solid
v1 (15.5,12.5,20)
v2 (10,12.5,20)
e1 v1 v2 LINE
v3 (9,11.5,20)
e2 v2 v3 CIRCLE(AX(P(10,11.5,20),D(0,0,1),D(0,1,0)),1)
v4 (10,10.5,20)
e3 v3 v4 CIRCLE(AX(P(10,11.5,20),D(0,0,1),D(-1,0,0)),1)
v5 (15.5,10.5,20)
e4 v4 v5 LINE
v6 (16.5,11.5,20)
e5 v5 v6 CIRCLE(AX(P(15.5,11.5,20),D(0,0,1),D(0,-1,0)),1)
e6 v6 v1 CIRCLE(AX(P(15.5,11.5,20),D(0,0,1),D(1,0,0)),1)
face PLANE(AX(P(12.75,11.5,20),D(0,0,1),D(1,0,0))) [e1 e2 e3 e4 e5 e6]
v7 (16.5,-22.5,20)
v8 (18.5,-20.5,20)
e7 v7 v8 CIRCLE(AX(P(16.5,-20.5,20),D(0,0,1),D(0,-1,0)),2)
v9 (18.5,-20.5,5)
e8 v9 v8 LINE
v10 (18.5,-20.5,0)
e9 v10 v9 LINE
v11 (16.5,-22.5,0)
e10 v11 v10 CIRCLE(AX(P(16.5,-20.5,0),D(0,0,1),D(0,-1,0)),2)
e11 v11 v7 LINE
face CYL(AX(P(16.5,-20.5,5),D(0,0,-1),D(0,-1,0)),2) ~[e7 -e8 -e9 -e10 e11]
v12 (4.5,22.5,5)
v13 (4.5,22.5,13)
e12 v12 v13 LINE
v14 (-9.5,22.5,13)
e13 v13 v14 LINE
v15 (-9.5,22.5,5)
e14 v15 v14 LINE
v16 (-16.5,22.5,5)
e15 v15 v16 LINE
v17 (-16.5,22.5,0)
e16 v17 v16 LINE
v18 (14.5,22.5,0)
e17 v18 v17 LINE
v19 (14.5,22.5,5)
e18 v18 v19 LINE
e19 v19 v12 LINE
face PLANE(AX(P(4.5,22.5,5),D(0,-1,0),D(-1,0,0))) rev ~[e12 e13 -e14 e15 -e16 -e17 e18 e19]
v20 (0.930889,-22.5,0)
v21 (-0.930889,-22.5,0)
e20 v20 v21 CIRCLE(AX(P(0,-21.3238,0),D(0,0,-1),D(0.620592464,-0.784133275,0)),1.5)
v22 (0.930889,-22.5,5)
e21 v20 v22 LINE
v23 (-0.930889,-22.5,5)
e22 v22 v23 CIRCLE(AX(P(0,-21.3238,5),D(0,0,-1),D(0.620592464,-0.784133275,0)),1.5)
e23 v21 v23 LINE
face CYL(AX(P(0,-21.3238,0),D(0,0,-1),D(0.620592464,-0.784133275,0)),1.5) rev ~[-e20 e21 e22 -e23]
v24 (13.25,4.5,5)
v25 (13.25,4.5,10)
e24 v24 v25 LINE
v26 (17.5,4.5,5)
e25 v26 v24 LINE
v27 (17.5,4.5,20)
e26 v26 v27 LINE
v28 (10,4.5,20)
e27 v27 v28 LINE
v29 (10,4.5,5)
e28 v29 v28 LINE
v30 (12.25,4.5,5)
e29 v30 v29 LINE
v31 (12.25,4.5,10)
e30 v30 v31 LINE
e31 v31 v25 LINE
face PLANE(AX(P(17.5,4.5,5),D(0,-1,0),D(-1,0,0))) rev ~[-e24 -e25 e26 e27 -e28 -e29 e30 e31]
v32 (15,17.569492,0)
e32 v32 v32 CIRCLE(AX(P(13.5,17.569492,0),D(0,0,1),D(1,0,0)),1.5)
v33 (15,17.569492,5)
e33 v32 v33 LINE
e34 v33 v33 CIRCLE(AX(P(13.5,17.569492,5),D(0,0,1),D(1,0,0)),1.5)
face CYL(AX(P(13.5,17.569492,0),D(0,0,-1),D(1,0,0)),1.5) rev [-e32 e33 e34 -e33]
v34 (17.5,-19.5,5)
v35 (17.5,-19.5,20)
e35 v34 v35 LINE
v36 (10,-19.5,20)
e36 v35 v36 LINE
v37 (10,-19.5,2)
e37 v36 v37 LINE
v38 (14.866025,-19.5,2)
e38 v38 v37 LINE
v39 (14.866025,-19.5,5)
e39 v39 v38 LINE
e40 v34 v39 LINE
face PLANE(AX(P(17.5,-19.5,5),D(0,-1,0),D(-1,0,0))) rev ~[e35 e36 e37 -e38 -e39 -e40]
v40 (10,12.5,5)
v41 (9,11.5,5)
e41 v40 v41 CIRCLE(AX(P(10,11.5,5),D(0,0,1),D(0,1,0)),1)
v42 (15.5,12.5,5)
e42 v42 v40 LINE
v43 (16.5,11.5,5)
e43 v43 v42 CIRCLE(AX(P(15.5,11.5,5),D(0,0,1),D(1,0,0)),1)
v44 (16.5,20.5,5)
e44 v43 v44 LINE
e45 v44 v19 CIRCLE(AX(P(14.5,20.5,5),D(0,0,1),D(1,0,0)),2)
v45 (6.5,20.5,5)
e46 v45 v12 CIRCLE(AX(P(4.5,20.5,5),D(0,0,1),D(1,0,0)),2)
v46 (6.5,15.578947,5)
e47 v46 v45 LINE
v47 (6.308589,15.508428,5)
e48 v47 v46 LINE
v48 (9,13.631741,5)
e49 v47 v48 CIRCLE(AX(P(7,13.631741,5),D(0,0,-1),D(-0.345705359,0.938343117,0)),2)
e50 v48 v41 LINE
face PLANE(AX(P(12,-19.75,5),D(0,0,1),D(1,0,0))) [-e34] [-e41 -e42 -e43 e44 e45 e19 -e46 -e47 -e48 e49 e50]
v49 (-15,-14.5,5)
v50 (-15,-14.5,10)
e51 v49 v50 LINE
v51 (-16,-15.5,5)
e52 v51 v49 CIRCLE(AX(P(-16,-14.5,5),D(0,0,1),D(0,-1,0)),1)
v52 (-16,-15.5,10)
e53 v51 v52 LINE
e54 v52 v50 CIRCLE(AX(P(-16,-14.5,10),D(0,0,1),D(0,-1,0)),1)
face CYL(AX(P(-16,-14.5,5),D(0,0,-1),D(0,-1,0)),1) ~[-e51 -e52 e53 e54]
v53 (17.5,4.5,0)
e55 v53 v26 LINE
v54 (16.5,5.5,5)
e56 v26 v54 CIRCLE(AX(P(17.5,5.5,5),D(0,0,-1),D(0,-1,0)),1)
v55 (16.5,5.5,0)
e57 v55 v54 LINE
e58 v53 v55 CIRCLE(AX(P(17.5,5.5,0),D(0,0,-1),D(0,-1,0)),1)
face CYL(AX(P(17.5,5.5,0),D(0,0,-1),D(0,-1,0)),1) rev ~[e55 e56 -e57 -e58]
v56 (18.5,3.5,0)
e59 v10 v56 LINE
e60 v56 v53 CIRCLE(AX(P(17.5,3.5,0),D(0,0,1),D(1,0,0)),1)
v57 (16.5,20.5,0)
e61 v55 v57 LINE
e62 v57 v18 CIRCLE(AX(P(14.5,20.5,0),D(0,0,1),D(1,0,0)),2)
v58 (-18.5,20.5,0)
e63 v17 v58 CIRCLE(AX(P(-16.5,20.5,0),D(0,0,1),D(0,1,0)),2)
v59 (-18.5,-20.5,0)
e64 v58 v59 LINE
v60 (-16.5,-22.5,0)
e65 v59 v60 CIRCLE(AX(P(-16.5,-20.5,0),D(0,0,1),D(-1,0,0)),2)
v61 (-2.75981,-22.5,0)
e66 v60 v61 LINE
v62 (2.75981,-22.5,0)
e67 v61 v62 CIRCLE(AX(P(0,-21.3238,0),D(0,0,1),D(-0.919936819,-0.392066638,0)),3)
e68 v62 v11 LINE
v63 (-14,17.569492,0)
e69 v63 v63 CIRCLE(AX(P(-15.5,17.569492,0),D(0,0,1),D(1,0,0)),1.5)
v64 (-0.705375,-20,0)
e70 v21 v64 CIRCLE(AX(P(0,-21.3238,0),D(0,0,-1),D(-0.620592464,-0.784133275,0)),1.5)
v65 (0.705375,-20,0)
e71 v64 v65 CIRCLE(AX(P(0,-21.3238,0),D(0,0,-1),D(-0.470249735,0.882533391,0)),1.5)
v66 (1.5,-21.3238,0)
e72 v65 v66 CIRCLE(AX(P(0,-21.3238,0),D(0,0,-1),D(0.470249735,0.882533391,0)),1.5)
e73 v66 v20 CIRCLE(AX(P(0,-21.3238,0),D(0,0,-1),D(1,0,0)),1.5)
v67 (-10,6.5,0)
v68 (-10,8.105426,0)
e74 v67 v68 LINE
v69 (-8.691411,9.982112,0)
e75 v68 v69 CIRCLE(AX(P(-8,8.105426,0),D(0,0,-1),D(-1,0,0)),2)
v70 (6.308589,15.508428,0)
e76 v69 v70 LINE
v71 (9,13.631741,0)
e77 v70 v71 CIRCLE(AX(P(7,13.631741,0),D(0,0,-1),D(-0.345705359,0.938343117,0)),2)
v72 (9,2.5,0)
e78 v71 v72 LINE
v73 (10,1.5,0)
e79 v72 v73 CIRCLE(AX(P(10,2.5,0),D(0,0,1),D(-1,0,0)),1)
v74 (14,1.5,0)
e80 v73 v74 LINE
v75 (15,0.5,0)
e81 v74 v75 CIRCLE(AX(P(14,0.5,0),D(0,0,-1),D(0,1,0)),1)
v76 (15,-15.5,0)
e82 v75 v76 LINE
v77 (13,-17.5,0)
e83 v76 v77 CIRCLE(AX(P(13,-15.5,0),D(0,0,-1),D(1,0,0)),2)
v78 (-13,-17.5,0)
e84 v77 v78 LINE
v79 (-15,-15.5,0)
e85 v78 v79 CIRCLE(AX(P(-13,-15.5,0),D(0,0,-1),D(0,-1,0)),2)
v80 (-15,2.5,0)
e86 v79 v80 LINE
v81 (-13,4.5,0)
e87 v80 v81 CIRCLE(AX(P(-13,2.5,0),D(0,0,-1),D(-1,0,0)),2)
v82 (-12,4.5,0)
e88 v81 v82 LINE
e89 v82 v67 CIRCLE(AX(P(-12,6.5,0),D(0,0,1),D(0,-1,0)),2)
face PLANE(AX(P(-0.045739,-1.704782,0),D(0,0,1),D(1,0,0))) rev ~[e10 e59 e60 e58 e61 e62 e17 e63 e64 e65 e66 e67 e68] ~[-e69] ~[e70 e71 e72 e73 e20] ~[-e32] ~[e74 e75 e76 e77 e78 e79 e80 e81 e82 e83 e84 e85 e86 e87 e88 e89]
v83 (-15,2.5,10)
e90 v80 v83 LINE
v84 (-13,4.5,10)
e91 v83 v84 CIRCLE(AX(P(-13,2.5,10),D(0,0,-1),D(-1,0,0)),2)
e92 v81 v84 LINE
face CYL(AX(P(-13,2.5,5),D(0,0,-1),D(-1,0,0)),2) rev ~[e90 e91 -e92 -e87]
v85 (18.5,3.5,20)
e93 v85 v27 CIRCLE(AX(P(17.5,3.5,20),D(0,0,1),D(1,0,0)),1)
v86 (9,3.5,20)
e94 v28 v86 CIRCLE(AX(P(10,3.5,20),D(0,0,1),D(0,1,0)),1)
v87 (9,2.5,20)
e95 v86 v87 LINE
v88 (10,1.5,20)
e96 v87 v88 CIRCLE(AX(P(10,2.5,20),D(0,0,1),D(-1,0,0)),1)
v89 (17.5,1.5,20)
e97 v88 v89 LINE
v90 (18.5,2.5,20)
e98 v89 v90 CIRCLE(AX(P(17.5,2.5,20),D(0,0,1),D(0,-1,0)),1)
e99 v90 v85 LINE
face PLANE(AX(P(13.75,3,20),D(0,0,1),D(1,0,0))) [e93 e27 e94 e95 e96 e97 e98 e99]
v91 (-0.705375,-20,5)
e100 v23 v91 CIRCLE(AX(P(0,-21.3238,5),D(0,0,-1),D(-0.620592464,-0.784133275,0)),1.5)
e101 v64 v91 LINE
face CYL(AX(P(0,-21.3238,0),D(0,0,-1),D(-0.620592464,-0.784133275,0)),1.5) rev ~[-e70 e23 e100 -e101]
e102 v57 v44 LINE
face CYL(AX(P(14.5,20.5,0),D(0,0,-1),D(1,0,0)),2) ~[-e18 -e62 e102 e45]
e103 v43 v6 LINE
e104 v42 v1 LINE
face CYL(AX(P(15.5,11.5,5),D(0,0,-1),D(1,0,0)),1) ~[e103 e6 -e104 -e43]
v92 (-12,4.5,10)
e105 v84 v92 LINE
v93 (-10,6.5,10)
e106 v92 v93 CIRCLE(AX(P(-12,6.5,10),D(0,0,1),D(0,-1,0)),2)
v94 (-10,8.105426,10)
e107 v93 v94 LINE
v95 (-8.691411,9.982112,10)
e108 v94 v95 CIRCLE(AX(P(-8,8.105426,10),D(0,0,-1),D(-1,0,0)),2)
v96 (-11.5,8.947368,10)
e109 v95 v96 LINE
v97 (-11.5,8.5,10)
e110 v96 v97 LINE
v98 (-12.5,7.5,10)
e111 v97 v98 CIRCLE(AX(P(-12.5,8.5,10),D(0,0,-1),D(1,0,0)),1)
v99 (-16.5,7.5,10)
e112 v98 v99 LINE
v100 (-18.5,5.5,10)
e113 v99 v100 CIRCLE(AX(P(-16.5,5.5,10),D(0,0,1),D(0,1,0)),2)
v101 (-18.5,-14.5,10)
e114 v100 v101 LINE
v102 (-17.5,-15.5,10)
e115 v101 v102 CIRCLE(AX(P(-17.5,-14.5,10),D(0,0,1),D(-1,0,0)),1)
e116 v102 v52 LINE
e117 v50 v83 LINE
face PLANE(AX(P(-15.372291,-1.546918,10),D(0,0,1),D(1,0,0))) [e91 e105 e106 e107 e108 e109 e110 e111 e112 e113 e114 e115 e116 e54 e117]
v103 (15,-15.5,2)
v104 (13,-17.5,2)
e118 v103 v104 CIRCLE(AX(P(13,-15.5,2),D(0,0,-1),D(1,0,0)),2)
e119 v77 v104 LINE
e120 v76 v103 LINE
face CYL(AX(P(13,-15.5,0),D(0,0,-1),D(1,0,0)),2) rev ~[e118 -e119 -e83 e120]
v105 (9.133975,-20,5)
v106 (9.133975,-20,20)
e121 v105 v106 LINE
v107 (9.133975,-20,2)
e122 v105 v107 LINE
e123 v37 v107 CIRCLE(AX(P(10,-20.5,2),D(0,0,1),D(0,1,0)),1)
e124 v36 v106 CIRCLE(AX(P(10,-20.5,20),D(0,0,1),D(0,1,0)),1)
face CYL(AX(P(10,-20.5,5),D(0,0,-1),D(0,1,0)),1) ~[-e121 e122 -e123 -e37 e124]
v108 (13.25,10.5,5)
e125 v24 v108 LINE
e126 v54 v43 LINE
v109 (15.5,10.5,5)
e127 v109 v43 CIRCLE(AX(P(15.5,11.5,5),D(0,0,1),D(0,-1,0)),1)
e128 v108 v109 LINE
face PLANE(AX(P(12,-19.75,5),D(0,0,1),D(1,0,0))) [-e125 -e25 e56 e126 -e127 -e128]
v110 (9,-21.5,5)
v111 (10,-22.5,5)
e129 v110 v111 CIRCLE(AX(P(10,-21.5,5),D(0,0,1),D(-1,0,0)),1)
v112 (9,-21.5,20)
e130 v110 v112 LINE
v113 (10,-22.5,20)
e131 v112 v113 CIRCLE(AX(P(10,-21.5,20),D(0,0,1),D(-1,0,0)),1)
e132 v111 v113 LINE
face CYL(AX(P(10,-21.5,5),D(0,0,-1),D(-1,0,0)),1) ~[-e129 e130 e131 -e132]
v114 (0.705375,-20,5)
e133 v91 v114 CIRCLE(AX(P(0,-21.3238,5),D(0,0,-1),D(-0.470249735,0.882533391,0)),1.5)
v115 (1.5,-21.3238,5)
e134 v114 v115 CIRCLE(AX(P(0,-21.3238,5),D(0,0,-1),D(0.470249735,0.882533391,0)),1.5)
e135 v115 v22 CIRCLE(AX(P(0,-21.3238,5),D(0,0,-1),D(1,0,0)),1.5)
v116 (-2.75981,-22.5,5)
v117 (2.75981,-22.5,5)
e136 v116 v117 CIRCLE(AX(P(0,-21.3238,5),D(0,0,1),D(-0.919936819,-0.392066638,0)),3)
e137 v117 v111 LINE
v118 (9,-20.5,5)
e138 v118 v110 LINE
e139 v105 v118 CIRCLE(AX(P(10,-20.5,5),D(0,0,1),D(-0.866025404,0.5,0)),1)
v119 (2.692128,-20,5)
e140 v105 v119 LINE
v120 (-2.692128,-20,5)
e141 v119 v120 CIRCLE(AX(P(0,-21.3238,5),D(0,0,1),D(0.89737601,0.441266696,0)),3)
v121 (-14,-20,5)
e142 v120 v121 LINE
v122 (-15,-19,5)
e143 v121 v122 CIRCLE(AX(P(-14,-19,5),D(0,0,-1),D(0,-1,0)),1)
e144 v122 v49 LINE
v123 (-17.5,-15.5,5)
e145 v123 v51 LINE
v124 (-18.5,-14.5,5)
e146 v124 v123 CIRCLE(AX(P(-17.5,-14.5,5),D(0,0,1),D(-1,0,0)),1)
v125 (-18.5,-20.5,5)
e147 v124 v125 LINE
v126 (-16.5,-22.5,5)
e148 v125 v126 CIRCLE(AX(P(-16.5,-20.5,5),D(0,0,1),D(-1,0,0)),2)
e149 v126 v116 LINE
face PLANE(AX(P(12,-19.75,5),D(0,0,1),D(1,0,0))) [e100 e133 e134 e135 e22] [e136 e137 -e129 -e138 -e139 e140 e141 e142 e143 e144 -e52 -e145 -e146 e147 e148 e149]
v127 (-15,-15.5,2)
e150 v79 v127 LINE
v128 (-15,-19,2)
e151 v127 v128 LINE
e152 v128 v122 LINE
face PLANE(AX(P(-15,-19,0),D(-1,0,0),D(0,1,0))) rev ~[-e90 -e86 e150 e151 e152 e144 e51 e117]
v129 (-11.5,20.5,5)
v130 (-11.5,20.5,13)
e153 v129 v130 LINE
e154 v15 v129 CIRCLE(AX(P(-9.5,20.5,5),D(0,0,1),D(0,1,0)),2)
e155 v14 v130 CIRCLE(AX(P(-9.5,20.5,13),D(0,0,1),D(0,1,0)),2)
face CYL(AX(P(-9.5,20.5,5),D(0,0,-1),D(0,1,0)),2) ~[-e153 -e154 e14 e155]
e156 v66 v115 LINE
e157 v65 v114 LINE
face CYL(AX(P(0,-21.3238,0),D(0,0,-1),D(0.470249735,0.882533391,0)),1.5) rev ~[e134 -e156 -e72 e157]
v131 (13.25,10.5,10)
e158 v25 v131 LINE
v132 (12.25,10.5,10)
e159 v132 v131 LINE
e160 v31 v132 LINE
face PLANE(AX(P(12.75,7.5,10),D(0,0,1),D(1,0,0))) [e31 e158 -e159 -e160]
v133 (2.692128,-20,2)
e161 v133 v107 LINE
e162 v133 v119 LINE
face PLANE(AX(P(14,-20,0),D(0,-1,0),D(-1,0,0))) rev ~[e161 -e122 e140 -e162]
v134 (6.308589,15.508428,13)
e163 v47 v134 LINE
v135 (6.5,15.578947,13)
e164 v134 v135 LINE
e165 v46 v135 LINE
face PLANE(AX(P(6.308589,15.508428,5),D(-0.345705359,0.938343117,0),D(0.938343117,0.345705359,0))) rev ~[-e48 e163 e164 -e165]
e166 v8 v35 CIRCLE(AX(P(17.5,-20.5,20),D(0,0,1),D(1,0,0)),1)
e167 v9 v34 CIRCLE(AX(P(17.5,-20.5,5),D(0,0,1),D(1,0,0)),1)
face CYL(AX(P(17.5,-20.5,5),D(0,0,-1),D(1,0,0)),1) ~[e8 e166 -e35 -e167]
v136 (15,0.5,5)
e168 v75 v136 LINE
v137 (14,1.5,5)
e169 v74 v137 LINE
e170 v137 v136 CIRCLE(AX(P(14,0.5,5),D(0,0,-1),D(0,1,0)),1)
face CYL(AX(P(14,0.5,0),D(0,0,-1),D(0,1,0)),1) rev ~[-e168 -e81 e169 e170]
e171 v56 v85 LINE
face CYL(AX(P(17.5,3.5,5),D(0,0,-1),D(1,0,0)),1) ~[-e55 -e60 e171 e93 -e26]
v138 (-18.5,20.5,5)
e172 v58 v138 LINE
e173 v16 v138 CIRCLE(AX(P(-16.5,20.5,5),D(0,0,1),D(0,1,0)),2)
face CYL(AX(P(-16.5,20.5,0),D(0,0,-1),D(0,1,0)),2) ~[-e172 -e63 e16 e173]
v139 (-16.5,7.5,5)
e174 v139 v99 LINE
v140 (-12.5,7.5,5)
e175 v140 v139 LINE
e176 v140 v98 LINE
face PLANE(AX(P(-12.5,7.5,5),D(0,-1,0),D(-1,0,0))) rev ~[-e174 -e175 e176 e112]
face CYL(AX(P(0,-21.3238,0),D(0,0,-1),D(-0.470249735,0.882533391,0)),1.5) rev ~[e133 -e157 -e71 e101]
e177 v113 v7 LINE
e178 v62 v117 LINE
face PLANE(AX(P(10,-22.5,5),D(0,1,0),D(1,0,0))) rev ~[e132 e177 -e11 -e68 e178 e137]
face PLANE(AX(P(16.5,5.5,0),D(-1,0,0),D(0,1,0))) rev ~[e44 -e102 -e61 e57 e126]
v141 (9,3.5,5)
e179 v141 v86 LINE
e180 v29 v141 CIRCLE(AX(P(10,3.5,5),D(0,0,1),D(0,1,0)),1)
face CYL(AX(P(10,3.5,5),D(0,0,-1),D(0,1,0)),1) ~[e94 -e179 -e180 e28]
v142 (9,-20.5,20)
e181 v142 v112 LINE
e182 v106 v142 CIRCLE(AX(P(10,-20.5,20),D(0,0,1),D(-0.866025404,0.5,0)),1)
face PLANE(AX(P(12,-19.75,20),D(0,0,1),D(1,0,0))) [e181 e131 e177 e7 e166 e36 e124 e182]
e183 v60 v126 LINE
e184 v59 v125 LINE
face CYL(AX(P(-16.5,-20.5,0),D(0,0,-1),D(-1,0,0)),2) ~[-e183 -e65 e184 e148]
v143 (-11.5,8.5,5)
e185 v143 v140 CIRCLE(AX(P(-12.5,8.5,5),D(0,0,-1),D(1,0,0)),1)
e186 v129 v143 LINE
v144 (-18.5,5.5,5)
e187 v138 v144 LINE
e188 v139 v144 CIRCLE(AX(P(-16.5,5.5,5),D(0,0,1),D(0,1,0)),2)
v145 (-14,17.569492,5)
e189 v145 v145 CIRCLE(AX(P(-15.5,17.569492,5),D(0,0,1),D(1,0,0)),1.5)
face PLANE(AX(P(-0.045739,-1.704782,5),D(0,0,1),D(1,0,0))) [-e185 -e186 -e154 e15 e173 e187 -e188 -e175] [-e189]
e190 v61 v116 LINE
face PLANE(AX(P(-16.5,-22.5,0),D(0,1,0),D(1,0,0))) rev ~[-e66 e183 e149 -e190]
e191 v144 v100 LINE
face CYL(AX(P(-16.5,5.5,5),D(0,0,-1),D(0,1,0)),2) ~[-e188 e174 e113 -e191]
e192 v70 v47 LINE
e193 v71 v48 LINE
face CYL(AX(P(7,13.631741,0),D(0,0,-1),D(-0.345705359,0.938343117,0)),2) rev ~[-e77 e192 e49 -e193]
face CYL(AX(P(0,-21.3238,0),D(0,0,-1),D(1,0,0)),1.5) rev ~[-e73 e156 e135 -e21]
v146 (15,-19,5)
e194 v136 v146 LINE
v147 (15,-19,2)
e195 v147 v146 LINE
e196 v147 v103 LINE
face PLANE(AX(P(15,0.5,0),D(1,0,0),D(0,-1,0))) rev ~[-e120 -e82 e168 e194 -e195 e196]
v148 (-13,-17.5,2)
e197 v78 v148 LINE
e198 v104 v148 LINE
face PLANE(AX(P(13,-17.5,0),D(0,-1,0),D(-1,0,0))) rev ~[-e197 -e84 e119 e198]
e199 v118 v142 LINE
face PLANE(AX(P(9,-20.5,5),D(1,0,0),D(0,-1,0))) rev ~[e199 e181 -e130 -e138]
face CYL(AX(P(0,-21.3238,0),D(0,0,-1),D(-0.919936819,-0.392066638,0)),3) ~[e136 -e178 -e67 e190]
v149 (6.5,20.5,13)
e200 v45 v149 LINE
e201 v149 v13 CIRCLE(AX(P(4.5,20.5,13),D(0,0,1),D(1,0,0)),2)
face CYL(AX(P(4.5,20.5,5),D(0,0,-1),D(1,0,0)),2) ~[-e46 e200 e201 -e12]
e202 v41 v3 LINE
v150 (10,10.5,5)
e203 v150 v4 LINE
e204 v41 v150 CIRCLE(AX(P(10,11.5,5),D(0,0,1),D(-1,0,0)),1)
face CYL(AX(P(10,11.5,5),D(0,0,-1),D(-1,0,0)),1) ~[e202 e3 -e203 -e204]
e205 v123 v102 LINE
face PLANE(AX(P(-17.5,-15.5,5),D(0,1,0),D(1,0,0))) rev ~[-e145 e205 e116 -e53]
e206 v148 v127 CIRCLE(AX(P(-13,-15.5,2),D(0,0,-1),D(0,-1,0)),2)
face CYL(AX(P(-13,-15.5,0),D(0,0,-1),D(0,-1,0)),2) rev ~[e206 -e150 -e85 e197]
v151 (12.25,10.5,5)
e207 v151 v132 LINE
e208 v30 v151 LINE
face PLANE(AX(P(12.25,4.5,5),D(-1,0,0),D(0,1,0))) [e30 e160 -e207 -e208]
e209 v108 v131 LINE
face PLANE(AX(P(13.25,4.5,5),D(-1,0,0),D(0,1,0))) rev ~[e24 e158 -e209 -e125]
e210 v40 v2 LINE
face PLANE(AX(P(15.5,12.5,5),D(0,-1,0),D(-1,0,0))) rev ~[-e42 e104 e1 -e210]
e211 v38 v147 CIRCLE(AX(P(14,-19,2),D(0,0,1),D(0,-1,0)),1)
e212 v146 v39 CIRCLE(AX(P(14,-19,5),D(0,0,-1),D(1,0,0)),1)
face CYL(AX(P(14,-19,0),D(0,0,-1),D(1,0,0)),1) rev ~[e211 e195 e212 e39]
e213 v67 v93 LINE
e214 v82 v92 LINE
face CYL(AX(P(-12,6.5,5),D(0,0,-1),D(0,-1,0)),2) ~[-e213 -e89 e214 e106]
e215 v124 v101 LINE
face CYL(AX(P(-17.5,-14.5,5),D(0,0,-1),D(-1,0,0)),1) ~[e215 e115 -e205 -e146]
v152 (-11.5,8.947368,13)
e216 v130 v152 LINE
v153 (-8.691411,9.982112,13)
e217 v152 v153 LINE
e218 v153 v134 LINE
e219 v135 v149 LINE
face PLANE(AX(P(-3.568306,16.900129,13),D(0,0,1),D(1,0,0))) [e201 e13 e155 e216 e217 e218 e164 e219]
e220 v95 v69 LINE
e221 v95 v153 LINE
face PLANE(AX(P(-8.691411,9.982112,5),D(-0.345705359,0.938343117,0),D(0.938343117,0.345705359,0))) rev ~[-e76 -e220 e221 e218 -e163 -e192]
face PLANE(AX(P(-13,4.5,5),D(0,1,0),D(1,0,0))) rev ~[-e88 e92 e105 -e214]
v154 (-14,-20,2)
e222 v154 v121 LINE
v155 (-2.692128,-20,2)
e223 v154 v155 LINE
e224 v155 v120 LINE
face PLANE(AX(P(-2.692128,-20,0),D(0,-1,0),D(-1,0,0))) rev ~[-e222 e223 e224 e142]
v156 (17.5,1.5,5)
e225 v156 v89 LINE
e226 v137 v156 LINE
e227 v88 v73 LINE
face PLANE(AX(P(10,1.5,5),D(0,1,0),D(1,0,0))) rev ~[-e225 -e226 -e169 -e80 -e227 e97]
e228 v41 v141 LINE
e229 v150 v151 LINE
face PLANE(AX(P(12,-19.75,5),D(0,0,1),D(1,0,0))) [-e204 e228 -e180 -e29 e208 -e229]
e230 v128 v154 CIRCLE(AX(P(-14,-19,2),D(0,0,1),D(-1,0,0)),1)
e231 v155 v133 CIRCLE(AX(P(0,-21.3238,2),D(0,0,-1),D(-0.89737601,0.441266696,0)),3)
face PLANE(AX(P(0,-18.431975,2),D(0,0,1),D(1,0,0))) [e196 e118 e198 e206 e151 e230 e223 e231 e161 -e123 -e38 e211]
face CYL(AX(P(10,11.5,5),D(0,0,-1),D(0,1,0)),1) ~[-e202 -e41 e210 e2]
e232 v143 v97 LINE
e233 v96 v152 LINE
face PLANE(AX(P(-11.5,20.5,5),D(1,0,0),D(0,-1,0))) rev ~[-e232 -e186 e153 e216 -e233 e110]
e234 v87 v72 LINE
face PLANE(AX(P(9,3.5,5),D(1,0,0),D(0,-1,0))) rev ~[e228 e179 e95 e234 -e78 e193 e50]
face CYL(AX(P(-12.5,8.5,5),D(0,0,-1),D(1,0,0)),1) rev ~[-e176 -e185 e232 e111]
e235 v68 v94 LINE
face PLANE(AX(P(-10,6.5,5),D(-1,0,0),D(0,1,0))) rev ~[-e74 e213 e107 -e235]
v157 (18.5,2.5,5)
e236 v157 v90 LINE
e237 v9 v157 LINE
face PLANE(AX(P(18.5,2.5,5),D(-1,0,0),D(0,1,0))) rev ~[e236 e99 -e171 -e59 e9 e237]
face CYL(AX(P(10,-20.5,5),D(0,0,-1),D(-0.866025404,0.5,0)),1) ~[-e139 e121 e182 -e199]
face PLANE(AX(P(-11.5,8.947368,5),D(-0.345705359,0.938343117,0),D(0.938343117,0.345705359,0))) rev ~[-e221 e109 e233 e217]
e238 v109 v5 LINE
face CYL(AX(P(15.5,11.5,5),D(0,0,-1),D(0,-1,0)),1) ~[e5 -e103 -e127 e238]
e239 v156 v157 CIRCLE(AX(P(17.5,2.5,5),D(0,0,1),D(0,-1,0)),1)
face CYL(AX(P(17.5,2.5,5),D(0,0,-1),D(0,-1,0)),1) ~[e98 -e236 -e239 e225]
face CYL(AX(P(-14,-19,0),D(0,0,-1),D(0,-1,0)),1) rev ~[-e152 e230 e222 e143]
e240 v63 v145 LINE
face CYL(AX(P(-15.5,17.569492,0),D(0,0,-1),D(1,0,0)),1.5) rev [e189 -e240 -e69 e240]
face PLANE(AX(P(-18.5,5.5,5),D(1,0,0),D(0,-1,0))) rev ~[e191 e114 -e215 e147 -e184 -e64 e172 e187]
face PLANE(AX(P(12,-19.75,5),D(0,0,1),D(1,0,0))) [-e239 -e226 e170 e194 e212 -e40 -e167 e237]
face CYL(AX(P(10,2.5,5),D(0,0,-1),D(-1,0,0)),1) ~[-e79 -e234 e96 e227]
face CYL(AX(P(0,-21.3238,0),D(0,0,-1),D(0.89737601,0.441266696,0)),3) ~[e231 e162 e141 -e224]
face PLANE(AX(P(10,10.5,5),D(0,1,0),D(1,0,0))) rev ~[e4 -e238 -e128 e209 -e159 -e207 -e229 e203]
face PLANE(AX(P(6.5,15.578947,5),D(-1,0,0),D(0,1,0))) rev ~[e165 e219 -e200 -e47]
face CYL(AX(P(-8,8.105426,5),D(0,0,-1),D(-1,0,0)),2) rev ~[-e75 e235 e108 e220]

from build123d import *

# Parameters (mm, degrees)
F1_DEPTH = 2
F0_R     = 3
F0_R_2   = 1.5
F2_DEPTH = 5
F4_DEPTH = 5
F5_DEPTH = 8
F6_DEPTH = 4
F7_DEPTH = 15
F8_DEPTH = 15
F3_W     = 1
F3_H     = 6
F9_DEPTH = 5


with BuildPart() as f1:
    # F0 (on Top) → F1 (new body)
    with BuildSketch(Plane.XY):
        with BuildLine():
            Line((-14, -20), (-2.69212803, -20))
            ThreePointArc((-2.69212803, -20), (0, -18.323800087), (2.69212803, -20))
            Line((2.69212803, -20), (14, -20))
            ThreePointArc((14, -20), (14.7071067812, -19.7071067812), (15, -19))
            Line((15, -19), (15, -15.5))
            ThreePointArc((15, -15.5), (14.4142135624, -16.9142135624), (13, -17.5))
            Line((13, -17.5), (-13, -17.5))
            ThreePointArc((-13, -17.5), (-14.4142135624, -16.9142135624), (-15, -15.5))
            Line((-15, -15.5), (-15, -19))
            ThreePointArc((-15, -19), (-14.7071067812, -19.7071067812), (-14, -20))
        make_face()
    extrude(amount=F1_DEPTH)

    # F0 (on Top) → F2 (join)
    with BuildSketch(Plane.XY):
        with BuildLine():
            Line((2.7598104581, -22.5), (16.5, -22.5))
            ThreePointArc((16.5, -22.5), (17.9142135624, -21.9142135624), (18.5, -20.5))
            Line((18.5, -20.5), (18.5, 3.5))
            ThreePointArc((18.5, 3.5), (18.2071067812, 4.2071067812), (17.5, 4.5))
            ThreePointArc((17.5, 4.5), (16.7928932188, 4.7928932188), (16.5, 5.5))
            Line((16.5, 5.5), (16.5, 17.5694916397))
            Line((16.5, 17.5694916397), (16.5, 20.5))
            ThreePointArc((16.5, 20.5), (15.9142135624, 21.9142135624), (14.5, 22.5))
            Line((14.5, 22.5), (-16.5, 22.5))
            ThreePointArc((-16.5, 22.5), (-17.9142135624, 21.9142135624), (-18.5, 20.5))
            Line((-18.5, 20.5), (-18.5, 17.5694916397))
            Line((-18.5, 17.5694916397), (-18.5, -20.5))
            ThreePointArc((-18.5, -20.5), (-17.9142135624, -21.9142135624), (-16.5, -22.5))
            Line((-16.5, -22.5), (-2.7598104581, -22.5))
            ThreePointArc((-2.7598104581, -22.5), (-2.9989011853, -21.2426109214), (-2.69212803, -20))
            Line((-2.69212803, -20), (-14, -20))
            ThreePointArc((-14, -20), (-14.7071067812, -19.7071067812), (-15, -19))
            Line((-15, -19), (-15, -15.5))
            Line((-15, -15.5), (-15, 2.5))
            ThreePointArc((-15, 2.5), (-14.4142135624, 3.9142135624), (-13, 4.5))
            Line((-13, 4.5), (-12, 4.5))
            ThreePointArc((-12, 4.5), (-10.5857864376, 5.0857864376), (-10, 6.5))
            Line((-10, 6.5), (-10, 8.1054256072))
            ThreePointArc((-10, 8.1054256072), (-9.6405519552, 9.2493614806), (-8.6914107177, 9.9821118409))
            Line((-8.6914107177, 9.9821118409), (6.3085892823, 15.5084276303))
            ThreePointArc((6.3085892823, 15.5084276303), (8.1439358734, 15.2722933519), (9, 13.6317413967))
            Line((9, 13.6317413967), (9, 2.5))
            ThreePointArc((9, 2.5), (9.2928932188, 1.7928932188), (10, 1.5))
            Line((10, 1.5), (14, 1.5))
            ThreePointArc((14, 1.5), (14.7071067812, 1.2071067812), (15, 0.5))
            Line((15, 0.5), (15, -15.5))
            Line((15, -15.5), (15, -19))
            ThreePointArc((15, -19), (14.7071067812, -19.7071067812), (14, -20))
            Line((14, -20), (2.69212803, -20))
            ThreePointArc((2.69212803, -20), (2.9220184881, -20.6442355536), (3, -21.323800087))
            ThreePointArc((3, -21.323800087), (2.9393393283, -21.9240369676), (2.7598104581, -22.5))
        make_face()
        with BuildLine():
            ThreePointArc((-12.5, 17.5694916397), (-15.5, 14.5694916397), (-18.5, 17.5694916397))
            ThreePointArc((-18.5, 17.5694916397), (-15.5, 20.5694916397), (-12.5, 17.5694916397))
        make_face(mode=Mode.SUBTRACT)
        with Locations((13.5, 17.5694916397)):
            Circle(F0_R, mode=Mode.SUBTRACT)
        with BuildLine():
            ThreePointArc((2.69212803, -20), (0, -18.323800087), (-2.69212803, -20))
            Line((-2.69212803, -20), (-0.7053746024, -20))
            ThreePointArc((-0.7053746024, -20), (0, -19.823800087), (0.7053746024, -20))
            Line((0.7053746024, -20), (2.69212803, -20))
        make_face()
        with BuildLine():
            ThreePointArc((-2.69212803, -20), (-2.9989011853, -21.2426109214), (-2.7598104581, -22.5))
            Line((-2.7598104581, -22.5), (-0.9308886961, -22.5))
            ThreePointArc((-0.9308886961, -22.5), (-1.4939342005, -21.1890388), (-0.7053746024, -20))
            Line((-0.7053746024, -20), (-2.69212803, -20))
        make_face()
        with BuildLine():
            Line((0.9308886961, -22.5), (2.7598104581, -22.5))
            ThreePointArc((2.7598104581, -22.5), (2.9393393283, -21.9240369676), (3, -21.323800087))
            ThreePointArc((3, -21.323800087), (2.9220184881, -20.6442355536), (2.69212803, -20))
            Line((2.69212803, -20), (0.7053746024, -20))
            ThreePointArc((0.7053746024, -20), (1.2860913466, -20.5518097708), (1.5, -21.323800087))
            ThreePointArc((1.5, -21.323800087), (1.3502468375, -21.9771250275), (0.9308886961, -22.5))
        make_face()
        with BuildLine():
            ThreePointArc((-2.7598104581, -22.5), (0, -24.323800087), (2.7598104581, -22.5))
            Line((2.7598104581, -22.5), (0.9308886961, -22.5))
            ThreePointArc((0.9308886961, -22.5), (0, -22.823800087), (-0.9308886961, -22.5))
            Line((-0.9308886961, -22.5), (-2.7598104581, -22.5))
        make_face()
        with BuildLine():
            ThreePointArc((-12.5, 17.5694916397), (-15.5, 20.5694916397), (-18.5, 17.5694916397))
            ThreePointArc((-18.5, 17.5694916397), (-15.5, 14.5694916397), (-12.5, 17.5694916397))
        make_face()
        with Locations((-15.5, 17.5694916397)):
            Circle(F0_R_2, mode=Mode.SUBTRACT)
        with Locations((13.5, 17.5694916397)):
            Circle(F0_R)
        with Locations((13.5, 17.5694916397)):
            Circle(F0_R_2, mode=Mode.SUBTRACT)
    extrude(amount=F2_DEPTH)

    # F3 (on face) → F4 (join)
    with BuildSketch(Plane.XY.offset(5)):
        with BuildLine():
            ThreePointArc((-18.5, -14.5), (-18.2071067812, -15.2071067812), (-17.5, -15.5))
            Line((-17.5, -15.5), (-16, -15.5))
            ThreePointArc((-16, -15.5), (-15.2928932188, -15.2071067812), (-15, -14.5))
            Line((-15, -14.5), (-15, 2.5))
            ThreePointArc((-15, 2.5), (-14.4142135624, 3.9142135624), (-13, 4.5))
            Line((-13, 4.5), (-12, 4.5))
            ThreePointArc((-12, 4.5), (-10.5857864376, 5.0857864376), (-10, 6.5))
            Line((-10, 6.5), (-10, 8.1054256072))
            ThreePointArc((-10, 8.1054256072), (-9.6405519552, 9.2493614806), (-8.6914107177, 9.9821118409))
            Line((-8.6914107177, 9.9821118409), (-11.5, 8.9473684211))
            Line((-11.5, 8.9473684211), (-11.5, 8.5))
            ThreePointArc((-11.5, 8.5), (-11.7928932188, 7.7928932188), (-12.5, 7.5))
            Line((-12.5, 7.5), (-16.5, 7.5))
            ThreePointArc((-16.5, 7.5), (-17.9142135624, 6.9142135624), (-18.5, 5.5))
            Line((-18.5, 5.5), (-18.5, -14.5))
        make_face()
    extrude(amount=F4_DEPTH)

    # F3 (on face) → F5 (join)
    with BuildSketch(Plane.XY.offset(5)):
        with BuildLine():
            Line((4.5, 22.5), (-9.5, 22.5))
            ThreePointArc((-9.5, 22.5), (-10.9142135624, 21.9142135624), (-11.5, 20.5))
            Line((-11.5, 20.5), (-11.5, 8.9473684211))
            Line((-11.5, 8.9473684211), (-8.6914107177, 9.9821118409))
            Line((-8.6914107177, 9.9821118409), (6.3085892823, 15.5084276303))
            Line((6.3085892823, 15.5084276303), (6.5, 15.5789473684))
            Line((6.5, 15.5789473684), (6.5, 20.5))
            ThreePointArc((6.5, 20.5), (5.9142135624, 21.9142135624), (4.5, 22.5))
        make_face()
    extrude(amount=F5_DEPTH)

    # F3 (on face) → F6 (join)
    with BuildSketch(Plane.XY.offset(5)):
        with BuildLine():
            ThreePointArc((10, -19.5), (9.5, -19.6339745962), (9.1339745962, -20))
            Line((9.1339745962, -20), (14, -20))
            ThreePointArc((14, -20), (14.5, -19.8660254038), (14.8660254038, -19.5))
            Line((14.8660254038, -19.5), (10, -19.5))
        make_face()
        with BuildLine():
            ThreePointArc((9, -21.5), (9.2928932188, -22.2071067812), (10, -22.5))
            Line((10, -22.5), (16.5, -22.5))
            ThreePointArc((16.5, -22.5), (17.9142135624, -21.9142135624), (18.5, -20.5))
            ThreePointArc((18.5, -20.5), (18.2071067812, -19.7928932188), (17.5, -19.5))
            Line((17.5, -19.5), (14.8660254038, -19.5))
            ThreePointArc((14.8660254038, -19.5), (14.5, -19.8660254038), (14, -20))
            Line((14, -20), (9.1339745962, -20))
            ThreePointArc((9.1339745962, -20), (9.0340741737, -20.2411809549), (9, -20.5))
            Line((9, -20.5), (9, -21.5))
        make_face()
    extrude(amount=-F6_DEPTH)

    # F3 (on face) → F7 (join)
    with BuildSketch(Plane.XY.offset(5)):
        with BuildLine():
            ThreePointArc((10, -19.5), (9.5, -19.6339745962), (9.1339745962, -20))
            Line((9.1339745962, -20), (14, -20))
            ThreePointArc((14, -20), (14.5, -19.8660254038), (14.8660254038, -19.5))
            Line((14.8660254038, -19.5), (10, -19.5))
        make_face()
        with BuildLine():
            ThreePointArc((9, -21.5), (9.2928932188, -22.2071067812), (10, -22.5))
            Line((10, -22.5), (16.5, -22.5))
            ThreePointArc((16.5, -22.5), (17.9142135624, -21.9142135624), (18.5, -20.5))
            ThreePointArc((18.5, -20.5), (18.2071067812, -19.7928932188), (17.5, -19.5))
            Line((17.5, -19.5), (14.8660254038, -19.5))
            ThreePointArc((14.8660254038, -19.5), (14.5, -19.8660254038), (14, -20))
            Line((14, -20), (9.1339745962, -20))
            ThreePointArc((9.1339745962, -20), (9.0340741737, -20.2411809549), (9, -20.5))
            Line((9, -20.5), (9, -21.5))
        make_face()
    extrude(amount=F7_DEPTH)

    # F3 (on face) → F8 (join)
    with BuildSketch(Plane.XY.offset(5)):
        with BuildLine():
            ThreePointArc((17.5, 1.5), (18.2071067812, 1.7928932188), (18.5, 2.5))
            Line((18.5, 2.5), (18.5, 3.5))
            ThreePointArc((18.5, 3.5), (18.2071067812, 4.2071067812), (17.5, 4.5))
            Line((17.5, 4.5), (13.25, 4.5))
            Line((13.25, 4.5), (12.25, 4.5))
            Line((12.25, 4.5), (10, 4.5))
            ThreePointArc((10, 4.5), (9.2928932188, 4.2071067812), (9, 3.5))
            Line((9, 3.5), (9, 2.5))
            ThreePointArc((9, 2.5), (9.2928932188, 1.7928932188), (10, 1.5))
            Line((10, 1.5), (12.25, 1.5))
            Line((12.25, 1.5), (13.25, 1.5))
            Line((13.25, 1.5), (14, 1.5))
            Line((14, 1.5), (17.5, 1.5))
        make_face()
        with BuildLine():
            ThreePointArc((15.5, 10.5), (16.2071067812, 10.7928932188), (16.5, 11.5))
            ThreePointArc((16.5, 11.5), (16.2071067812, 12.2071067812), (15.5, 12.5))
            Line((15.5, 12.5), (10, 12.5))
            ThreePointArc((10, 12.5), (9.2928932188, 12.2071067812), (9, 11.5))
            ThreePointArc((9, 11.5), (9.2928932188, 10.7928932188), (10, 10.5))
            Line((10, 10.5), (12.25, 10.5))
            Line((12.25, 10.5), (13.25, 10.5))
            Line((13.25, 10.5), (15.5, 10.5))
        make_face()
    extrude(amount=F8_DEPTH)

    # F3 (on face) → F9 (join)
    with BuildSketch(Plane.XY.offset(5)):
        with Locations((12.75, 7.5)):
            Rectangle(F3_W, F3_H)
    extrude(amount=F9_DEPTH)


solid = f1.part
